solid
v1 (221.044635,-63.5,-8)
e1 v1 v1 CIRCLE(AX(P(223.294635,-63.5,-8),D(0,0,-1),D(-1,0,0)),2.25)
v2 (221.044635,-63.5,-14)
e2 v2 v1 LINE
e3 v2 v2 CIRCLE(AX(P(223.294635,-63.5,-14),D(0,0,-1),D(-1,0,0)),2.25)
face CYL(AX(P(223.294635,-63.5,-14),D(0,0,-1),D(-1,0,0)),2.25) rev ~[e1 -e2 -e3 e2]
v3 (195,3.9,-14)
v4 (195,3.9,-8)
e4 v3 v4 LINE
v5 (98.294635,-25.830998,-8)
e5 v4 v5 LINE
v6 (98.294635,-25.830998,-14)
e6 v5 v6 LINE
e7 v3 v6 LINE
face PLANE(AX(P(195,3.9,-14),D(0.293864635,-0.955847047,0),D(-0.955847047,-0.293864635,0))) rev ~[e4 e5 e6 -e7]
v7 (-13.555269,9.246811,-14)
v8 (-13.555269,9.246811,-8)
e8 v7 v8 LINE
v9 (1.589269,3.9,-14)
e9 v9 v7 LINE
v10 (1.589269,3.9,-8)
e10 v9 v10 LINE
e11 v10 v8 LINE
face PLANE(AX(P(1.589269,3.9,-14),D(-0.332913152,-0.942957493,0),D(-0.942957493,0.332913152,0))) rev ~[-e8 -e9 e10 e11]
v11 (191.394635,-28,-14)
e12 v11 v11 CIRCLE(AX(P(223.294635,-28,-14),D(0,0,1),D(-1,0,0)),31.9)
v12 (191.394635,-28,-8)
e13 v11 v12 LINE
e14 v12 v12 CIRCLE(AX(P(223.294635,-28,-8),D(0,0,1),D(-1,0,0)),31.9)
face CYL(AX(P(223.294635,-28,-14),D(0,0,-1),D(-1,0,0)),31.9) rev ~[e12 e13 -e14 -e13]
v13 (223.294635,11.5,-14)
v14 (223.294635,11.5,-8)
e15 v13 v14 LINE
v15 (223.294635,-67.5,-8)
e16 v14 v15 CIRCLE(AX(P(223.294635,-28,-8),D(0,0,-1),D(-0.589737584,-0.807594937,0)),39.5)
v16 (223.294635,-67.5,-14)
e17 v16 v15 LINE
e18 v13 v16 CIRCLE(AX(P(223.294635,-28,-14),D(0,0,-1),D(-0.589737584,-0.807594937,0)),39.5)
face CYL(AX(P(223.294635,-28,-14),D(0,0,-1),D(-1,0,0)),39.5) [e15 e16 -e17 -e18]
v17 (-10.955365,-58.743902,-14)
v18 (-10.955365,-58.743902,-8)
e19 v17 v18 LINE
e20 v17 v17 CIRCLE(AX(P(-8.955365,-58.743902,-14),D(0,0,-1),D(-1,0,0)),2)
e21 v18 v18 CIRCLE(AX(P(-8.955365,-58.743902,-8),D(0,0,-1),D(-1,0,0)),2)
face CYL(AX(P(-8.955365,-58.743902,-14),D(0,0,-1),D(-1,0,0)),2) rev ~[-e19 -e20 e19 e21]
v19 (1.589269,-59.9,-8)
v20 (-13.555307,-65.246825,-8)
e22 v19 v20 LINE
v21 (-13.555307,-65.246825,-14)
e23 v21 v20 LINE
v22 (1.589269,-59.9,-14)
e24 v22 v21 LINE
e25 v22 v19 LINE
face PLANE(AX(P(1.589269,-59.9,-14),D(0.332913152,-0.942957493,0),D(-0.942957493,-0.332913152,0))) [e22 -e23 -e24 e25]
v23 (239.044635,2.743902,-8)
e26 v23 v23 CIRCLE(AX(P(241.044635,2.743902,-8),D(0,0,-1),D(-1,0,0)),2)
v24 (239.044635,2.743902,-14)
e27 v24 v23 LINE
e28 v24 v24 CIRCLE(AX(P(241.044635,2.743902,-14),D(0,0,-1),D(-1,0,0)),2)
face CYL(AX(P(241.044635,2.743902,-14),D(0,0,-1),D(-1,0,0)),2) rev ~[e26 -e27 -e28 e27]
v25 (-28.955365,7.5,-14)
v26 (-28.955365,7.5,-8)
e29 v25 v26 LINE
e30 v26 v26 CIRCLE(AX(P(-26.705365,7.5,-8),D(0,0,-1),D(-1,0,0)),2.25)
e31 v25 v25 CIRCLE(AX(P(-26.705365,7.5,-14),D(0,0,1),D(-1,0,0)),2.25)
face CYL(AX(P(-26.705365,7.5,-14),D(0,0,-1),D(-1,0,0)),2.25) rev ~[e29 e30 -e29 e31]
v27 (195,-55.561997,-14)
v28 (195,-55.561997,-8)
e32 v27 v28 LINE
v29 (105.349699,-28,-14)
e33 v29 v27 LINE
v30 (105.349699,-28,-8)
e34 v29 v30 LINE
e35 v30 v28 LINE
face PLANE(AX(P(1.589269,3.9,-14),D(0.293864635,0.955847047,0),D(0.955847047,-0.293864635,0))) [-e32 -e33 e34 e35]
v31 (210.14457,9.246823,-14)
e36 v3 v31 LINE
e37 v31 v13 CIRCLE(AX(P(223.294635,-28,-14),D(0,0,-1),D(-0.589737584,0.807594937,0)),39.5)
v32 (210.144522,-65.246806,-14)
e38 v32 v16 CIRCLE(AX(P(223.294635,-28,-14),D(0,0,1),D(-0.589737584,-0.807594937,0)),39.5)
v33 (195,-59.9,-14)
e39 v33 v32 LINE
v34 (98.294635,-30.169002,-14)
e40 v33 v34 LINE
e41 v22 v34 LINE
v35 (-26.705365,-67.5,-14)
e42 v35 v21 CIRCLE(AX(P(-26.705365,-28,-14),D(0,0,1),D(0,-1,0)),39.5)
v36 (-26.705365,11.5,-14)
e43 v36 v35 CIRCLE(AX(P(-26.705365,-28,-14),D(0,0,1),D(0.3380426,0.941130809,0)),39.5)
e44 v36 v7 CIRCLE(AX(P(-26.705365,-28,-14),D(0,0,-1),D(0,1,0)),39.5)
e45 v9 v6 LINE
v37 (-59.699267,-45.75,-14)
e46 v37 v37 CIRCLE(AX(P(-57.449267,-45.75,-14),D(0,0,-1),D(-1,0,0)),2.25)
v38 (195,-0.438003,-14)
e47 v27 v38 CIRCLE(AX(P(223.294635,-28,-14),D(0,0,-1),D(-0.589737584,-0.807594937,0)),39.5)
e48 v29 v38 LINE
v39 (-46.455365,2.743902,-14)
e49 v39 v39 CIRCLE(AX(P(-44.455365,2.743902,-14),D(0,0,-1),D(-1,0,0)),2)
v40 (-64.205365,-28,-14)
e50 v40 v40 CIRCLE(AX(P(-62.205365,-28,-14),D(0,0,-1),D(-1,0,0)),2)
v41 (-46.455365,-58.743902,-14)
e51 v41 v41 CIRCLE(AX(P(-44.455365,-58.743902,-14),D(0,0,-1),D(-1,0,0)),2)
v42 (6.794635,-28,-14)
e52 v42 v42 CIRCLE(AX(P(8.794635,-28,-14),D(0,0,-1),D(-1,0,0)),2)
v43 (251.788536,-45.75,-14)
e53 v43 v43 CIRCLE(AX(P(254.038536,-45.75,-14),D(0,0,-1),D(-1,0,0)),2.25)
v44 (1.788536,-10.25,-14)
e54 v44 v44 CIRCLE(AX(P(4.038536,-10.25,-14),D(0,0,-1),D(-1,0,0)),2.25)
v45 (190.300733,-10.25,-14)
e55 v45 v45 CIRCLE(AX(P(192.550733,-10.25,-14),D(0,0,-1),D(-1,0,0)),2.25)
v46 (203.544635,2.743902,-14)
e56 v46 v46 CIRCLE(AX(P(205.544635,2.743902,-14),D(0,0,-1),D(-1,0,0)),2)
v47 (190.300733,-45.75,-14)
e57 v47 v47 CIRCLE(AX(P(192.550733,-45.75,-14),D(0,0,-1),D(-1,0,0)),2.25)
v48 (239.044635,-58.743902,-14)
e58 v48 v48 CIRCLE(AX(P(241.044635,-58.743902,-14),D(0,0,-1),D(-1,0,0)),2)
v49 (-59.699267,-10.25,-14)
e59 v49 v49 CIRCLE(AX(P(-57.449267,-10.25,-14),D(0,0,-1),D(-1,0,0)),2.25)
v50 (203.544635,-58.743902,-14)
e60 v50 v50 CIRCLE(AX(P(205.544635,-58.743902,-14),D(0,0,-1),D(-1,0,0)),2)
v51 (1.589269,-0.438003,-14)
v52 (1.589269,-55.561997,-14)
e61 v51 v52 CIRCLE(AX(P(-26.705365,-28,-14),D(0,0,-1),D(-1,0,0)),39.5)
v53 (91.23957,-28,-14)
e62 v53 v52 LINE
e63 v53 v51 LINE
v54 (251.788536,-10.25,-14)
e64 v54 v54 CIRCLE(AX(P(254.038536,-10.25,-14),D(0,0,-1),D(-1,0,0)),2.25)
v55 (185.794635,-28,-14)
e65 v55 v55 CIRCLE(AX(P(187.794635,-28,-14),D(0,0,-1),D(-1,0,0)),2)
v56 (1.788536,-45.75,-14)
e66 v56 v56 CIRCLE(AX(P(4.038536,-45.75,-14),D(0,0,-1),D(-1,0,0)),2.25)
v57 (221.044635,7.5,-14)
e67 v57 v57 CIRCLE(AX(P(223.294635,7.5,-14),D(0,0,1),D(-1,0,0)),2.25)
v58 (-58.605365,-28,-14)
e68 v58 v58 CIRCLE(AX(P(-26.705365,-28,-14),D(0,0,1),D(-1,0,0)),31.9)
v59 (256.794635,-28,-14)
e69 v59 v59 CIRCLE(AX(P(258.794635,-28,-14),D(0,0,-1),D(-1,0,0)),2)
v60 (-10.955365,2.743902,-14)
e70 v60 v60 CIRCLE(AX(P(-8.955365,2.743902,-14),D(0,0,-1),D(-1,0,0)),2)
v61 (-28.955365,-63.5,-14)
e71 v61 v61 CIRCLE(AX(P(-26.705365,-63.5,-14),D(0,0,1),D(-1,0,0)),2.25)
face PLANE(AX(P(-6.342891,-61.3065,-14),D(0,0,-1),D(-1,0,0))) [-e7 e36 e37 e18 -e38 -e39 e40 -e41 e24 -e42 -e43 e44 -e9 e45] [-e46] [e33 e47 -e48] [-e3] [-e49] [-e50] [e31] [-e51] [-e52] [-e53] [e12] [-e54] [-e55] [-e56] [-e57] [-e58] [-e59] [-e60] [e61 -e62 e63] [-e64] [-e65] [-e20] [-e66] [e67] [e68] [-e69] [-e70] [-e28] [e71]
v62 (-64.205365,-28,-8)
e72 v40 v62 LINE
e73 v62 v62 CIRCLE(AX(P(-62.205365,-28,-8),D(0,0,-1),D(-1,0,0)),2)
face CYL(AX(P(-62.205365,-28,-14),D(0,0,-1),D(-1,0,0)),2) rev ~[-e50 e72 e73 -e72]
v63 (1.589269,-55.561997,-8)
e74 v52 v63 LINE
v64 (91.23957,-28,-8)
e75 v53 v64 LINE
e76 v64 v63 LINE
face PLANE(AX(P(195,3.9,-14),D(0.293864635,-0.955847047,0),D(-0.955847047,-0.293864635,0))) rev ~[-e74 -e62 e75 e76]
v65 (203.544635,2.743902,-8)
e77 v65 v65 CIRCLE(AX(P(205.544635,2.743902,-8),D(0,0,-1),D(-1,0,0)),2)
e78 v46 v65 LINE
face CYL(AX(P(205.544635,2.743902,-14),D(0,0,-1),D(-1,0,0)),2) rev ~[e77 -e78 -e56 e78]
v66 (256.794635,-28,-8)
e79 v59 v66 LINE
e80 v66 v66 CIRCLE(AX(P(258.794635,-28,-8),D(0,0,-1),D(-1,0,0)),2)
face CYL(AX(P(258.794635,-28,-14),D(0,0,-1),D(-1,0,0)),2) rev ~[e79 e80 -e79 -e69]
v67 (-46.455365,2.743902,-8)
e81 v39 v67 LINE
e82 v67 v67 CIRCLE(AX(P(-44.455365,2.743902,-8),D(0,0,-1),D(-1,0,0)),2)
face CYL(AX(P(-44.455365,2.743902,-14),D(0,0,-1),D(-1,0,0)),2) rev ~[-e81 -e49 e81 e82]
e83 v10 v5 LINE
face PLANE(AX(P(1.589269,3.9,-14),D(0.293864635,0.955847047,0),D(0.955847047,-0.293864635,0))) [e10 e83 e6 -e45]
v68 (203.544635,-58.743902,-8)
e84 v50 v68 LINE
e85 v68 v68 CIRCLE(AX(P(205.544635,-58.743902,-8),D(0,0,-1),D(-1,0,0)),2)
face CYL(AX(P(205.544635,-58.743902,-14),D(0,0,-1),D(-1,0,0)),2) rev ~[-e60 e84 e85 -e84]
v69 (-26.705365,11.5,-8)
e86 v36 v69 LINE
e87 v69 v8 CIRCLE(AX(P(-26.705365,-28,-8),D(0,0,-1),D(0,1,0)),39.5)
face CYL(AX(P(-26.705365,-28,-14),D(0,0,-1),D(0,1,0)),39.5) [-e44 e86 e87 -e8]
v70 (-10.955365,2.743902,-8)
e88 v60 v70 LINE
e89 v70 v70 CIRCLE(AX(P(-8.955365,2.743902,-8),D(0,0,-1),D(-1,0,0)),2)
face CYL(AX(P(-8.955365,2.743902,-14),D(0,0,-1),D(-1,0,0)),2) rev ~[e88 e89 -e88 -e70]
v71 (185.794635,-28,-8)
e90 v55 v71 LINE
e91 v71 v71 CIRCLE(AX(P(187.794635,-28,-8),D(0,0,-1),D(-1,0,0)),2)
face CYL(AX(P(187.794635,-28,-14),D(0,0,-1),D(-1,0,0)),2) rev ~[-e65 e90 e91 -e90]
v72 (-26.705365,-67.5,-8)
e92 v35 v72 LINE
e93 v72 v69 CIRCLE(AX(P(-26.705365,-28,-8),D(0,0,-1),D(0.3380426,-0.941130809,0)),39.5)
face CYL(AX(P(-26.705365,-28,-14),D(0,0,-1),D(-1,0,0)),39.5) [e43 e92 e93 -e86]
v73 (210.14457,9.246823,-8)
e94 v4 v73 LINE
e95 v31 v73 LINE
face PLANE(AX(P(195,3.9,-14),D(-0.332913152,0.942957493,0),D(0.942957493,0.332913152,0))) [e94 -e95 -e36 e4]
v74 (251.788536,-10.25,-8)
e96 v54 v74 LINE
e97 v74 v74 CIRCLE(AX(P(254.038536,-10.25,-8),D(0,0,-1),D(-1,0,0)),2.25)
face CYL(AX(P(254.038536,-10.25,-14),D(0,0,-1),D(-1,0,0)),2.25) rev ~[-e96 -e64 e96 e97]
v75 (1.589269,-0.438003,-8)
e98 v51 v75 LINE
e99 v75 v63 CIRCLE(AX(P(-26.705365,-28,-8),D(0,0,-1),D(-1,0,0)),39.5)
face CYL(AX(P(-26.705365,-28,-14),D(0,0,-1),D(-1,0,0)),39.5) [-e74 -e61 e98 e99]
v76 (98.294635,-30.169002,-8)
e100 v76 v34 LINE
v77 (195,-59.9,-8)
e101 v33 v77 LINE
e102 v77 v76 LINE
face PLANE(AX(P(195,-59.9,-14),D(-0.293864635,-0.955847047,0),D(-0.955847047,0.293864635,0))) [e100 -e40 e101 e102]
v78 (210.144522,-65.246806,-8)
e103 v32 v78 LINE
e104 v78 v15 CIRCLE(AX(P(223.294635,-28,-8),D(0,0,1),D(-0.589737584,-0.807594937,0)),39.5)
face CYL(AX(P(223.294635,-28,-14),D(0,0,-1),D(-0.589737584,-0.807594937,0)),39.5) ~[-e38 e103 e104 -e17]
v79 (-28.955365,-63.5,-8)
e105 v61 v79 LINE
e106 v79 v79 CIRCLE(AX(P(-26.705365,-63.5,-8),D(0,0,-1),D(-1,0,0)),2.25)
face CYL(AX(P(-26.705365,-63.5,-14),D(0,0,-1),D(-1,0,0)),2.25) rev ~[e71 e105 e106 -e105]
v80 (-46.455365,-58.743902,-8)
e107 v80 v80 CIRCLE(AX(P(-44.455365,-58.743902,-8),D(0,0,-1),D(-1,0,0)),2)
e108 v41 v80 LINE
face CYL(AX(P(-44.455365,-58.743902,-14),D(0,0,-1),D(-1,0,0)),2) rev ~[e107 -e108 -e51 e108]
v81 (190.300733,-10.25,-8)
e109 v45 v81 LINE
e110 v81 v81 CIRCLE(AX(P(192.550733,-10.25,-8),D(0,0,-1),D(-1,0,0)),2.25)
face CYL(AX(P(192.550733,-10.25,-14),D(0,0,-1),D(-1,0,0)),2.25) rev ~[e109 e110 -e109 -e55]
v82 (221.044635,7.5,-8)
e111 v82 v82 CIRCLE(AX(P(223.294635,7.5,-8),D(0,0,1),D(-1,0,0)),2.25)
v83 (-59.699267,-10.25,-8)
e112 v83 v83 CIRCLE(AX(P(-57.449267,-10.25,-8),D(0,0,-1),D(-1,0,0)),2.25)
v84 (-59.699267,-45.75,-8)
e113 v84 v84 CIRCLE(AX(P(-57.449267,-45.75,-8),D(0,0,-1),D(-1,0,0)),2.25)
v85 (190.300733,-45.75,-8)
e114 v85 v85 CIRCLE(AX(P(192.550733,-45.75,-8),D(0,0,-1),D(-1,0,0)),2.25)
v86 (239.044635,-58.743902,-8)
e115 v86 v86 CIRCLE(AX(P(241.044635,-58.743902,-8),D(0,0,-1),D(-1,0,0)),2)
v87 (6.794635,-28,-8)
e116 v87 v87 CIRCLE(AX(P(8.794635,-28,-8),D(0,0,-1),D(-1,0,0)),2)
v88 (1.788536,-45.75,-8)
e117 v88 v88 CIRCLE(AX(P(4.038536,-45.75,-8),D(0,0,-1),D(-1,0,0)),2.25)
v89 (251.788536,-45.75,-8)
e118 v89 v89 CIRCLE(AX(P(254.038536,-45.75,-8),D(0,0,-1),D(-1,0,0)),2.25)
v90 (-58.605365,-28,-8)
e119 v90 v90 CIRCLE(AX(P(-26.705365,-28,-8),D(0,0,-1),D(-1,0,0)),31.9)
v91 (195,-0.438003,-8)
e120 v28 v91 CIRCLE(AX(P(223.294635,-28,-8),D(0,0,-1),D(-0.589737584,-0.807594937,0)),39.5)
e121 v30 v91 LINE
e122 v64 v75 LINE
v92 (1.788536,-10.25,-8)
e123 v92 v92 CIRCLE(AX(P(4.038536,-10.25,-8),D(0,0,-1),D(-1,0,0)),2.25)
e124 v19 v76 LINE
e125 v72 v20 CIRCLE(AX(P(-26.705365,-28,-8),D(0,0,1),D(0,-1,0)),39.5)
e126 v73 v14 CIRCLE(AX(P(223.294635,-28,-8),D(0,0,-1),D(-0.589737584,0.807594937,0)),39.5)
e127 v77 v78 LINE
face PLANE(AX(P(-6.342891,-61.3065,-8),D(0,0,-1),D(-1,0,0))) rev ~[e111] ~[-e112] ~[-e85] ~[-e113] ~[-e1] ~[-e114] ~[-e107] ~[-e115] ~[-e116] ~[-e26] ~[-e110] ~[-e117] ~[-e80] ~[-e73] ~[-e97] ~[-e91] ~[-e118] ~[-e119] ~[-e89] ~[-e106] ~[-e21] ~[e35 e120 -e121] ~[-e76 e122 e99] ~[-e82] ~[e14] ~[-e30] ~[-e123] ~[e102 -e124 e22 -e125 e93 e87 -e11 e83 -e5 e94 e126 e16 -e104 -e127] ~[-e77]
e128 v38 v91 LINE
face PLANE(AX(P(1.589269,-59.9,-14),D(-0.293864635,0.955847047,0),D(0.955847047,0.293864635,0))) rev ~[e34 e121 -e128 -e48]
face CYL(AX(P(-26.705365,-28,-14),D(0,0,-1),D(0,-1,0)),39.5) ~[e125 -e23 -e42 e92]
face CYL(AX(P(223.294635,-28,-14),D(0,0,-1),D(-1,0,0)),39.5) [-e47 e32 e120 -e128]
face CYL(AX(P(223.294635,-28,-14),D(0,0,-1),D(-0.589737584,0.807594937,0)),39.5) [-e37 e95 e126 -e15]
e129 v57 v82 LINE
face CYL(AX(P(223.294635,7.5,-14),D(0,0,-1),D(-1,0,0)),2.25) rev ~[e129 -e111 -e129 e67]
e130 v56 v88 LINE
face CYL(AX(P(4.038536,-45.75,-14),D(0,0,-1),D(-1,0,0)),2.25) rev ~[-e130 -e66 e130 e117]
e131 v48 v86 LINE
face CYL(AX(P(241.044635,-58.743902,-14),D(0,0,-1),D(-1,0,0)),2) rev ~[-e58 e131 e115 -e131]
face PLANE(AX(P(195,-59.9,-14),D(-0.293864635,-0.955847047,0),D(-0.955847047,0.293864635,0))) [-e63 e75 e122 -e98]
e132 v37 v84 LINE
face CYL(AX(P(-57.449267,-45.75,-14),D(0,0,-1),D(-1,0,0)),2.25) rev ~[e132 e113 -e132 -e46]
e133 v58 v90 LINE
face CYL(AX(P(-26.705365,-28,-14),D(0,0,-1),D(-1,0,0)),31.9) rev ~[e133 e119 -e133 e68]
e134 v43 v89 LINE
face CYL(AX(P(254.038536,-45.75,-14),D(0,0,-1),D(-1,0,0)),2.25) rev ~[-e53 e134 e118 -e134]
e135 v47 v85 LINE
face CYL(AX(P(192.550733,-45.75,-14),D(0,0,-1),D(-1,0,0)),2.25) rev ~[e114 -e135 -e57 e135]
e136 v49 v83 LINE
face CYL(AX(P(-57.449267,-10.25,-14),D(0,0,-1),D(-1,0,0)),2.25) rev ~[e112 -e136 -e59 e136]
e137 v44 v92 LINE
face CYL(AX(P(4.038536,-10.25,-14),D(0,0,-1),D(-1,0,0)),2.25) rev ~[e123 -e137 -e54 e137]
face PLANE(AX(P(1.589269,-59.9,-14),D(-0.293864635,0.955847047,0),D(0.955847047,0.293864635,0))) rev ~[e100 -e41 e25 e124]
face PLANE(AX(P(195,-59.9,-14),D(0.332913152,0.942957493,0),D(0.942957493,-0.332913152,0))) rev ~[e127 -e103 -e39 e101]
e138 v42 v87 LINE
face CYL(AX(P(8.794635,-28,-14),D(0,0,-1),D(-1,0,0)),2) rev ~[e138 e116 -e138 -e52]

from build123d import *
from build123d.topology import SkipClean

# Parameters (mm, degrees)
EXTRUDE_1_DEPTH      = 8
SKETCH_2_R           = 2.5
CUT_EXTRUDE_1_DEPTH  = 8
SKETCH_3_R           = 15
CUT_EXTRUDE_3_DEPTH  = 8
SKETCH_4_R           = 25
EXTRUDE_2_DEPTH      = 8
SKETCH_6_R           = 15
CUT_EXTRUDE_6_DEPTH  = 8
SKETCH_9_R           = 39.5
EXTRUDE_3_DEPTH      = 8
SKETCH_10_R          = 15
CUT_EXTRUDE_7_DEPTH  = 8
FILLET_3_R           = 5
FILLET_4_R           = 5
FILLET_5_R           = 5
FILLET_6_R           = 5
SKETCH_11_R          = 20
CUT_EXTRUDE_9_DEPTH  = 188
SKETCH_12_R          = 2.25
SKETCH_12_R_2        = 2
CUT_EXTRUDE_10_DEPTH = 9
SKETCH_13_R          = 54.472977105
CUT_EXTRUDE_11_DEPTH = 2
SKETCH_14_R          = 59.15893828
CUT_EXTRUDE_12_DEPTH = 2
SKETCH_15_R          = 97.544160789
CUT_EXTRUDE_13_DEPTH = 14
SKETCH_16_R          = 31.9
CUT_EXTRUDE_14_DEPTH = 10
SKETCH_17_W          = 2.25
SKETCH_17_H          = 4.5
EXTRUDE_4_DEPTH      = 6
SKETCH_18_W          = 6
SKETCH_18_H          = 4.5
EXTRUDE_5_DEPTH      = 200
EXTRUDE_6_DEPTH      = 6
SKETCH_21_W          = 200
SKETCH_21_H          = 1.35
EXTRUDE_7_DEPTH      = 6
SKETCH_22_R          = 39.5
EXTRUDE_8_DEPTH      = 6
SKETCH_23_R          = 31.9
CUT_EXTRUDE_15_DEPTH = 6
SKETCH_26_W          = 23.294634575
SKETCH_26_H          = 7.6
EXTRUDE_9_DEPTH      = 6
SKETCH_27_R          = 2.25
SKETCH_27_R_2        = 2
CUT_EXTRUDE_16_DEPTH = 6
EXTRUDE_10_DEPTH     = 6
SKETCH_29_W          = 6
SKETCH_29_H          = 4.5
EXTRUDE_11_DEPTH     = 227
EXTRUDE_12_DEPTH     = 6
SKETCH_31_W          = 192.451548969
SKETCH_31_H          = 1.35
EXTRUDE_13_DEPTH     = 6
SKETCH_32_R          = 2
CUT_EXTRUDE_17_DEPTH = 6
SKETCH_33_R          = 2.25
CUT_EXTRUDE_18_DEPTH = 6
SKETCH_34_R          = 2
CUT_EXTRUDE_19_DEPTH = 6
SKETCH_35_R          = 2.25
CUT_EXTRUDE_20_DEPTH = 6
SKETCH_36_R          = 2.25
SKETCH_36_R_2        = 2
CUT_EXTRUDE_21_DEPTH = 6
SKETCH_37_R          = 39.5
EXTRUDE_14_DEPTH     = 6
SKETCH_38_R          = 31.9
CUT_EXTRUDE_22_DEPTH = 6
CUT_EXTRUDE_23_DEPTH = 6
SKETCH_40_W          = 83.199504535
SKETCH_40_H          = 7.6
EXTRUDE_15_DEPTH     = 6
SKETCH_41_W          = 83.199504535
SKETCH_41_H          = 7.6
EXTRUDE_16_DEPTH     = 6
SKETCH_42_R          = 2.25
CUT_EXTRUDE_24_DEPTH = 6
SKETCH_43_R          = 2
CUT_EXTRUDE_25_DEPTH = 6
EXTRUDE_17_DEPTH     = 6
EXTRUDE_18_DEPTH     = 6
CUT_EXTRUDE_26_DEPTH = 10
EXTRUDE_19_DEPTH     = 6
EXTRUDE_20_DEPTH     = 6
CUT_EXTRUDE_27_DEPTH = 6
EXTRUDE_21_DEPTH     = 6
EXTRUDE_22_DEPTH     = 6
SKETCH_54_R          = 3.023115784
SKETCH_54_R_2        = 3.087531329
SKETCH_54_R_3        = 3.121625289
SKETCH_54_R_4        = 2.992792855
SKETCH_54_R_5        = 3.413004947
SKETCH_54_R_6        = 2.595639541
SKETCH_54_R_7        = 3.020521319
SKETCH_54_R_8        = 2.981815249
SKETCH_54_R_9        = 2.623531365
SKETCH_54_R_10       = 2.954994935
SKETCH_54_R_11       = 2.920794483
SKETCH_54_R_12       = 2.880999884
EXTRUDE_26_DEPTH     = 6
SKETCH_55_R          = 2
SKETCH_55_R_2        = 2.25
CUT_EXTRUDE_28_DEPTH = 6
SKETCH_56_R          = 3.133153075
EXTRUDE_27_DEPTH     = 6
SKETCH_57_R          = 2
CUT_EXTRUDE_29_DEPTH = 6
SKETCH_58_R          = 3.393702045
EXTRUDE_28_DEPTH     = 6
SKETCH_59_R          = 2
CUT_EXTRUDE_30_DEPTH = 6
SKETCH_60_R          = 3.196495832
SKETCH_60_R_2        = 3.185485356
SKETCH_60_R_3        = 2.893528448
SKETCH_60_R_4        = 3.123896019
SKETCH_60_R_5        = 3.190377665
SKETCH_60_R_6        = 2.876275995
SKETCH_60_R_7        = 2.985325865
SKETCH_60_R_8        = 3.165524537
SKETCH_60_R_9        = 2.969778692
SKETCH_60_R_10       = 2.730957457
SKETCH_60_R_11       = 2.74773434
SKETCH_60_R_12       = 2
EXTRUDE_29_DEPTH     = 6
SKETCH_61_R          = 3.146480317
SKETCH_61_R_2        = 3.03649503
EXTRUDE_30_DEPTH     = 6
SKETCH_62_R          = 2
SKETCH_62_R_2        = 2.25
CUT_EXTRUDE_31_DEPTH = 6


with BuildPart() as part:
    # 草图1 → 凸台-拉伸1 (new body)
    with BuildSketch(Plane.XY):
        Polygon((0, 0), (28, 0), (28, -56), (-28, -56), (-28, 0), align=None)
    extrude(amount=EXTRUDE_1_DEPTH)

    # 草图2 → 切除-拉伸1 (cut)
    with BuildSketch(Plane(origin=(0, 0, 0), x_dir=(-1, 0, 0), z_dir=(0, 0, -1))):
        with Locations((-23.55, -4.45)):
            Circle(SKETCH_2_R)
        with Locations((23.55, -4.45)):
            Circle(SKETCH_2_R)
        with Locations((23.55, -51.55)):
            Circle(SKETCH_2_R)
        with Locations((-23.55, -51.55)):
            Circle(SKETCH_2_R)
    extrude(amount=-CUT_EXTRUDE_1_DEPTH, mode=Mode.SUBTRACT)

    # 草图3 → 切除-拉伸3 (cut)
    with BuildSketch(Plane(origin=(0, 0, 0), x_dir=(-1, 0, 0), z_dir=(0, 0, -1))):
        with Locations((0, -28)):
            Circle(SKETCH_3_R)
    extrude(amount=-CUT_EXTRUDE_3_DEPTH, mode=Mode.SUBTRACT)

    # 草图4 → 凸台-拉伸2 (add)
    with BuildSketch(Plane(origin=(0, 0, 0), x_dir=(-1, 0, 0), z_dir=(0, 0, -1))):
        with Locations((0, -28)):
            Circle(SKETCH_4_R)
    extrude(amount=EXTRUDE_2_DEPTH)

    # 草图6 → 切除-拉伸6 (cut)
    with BuildSketch(Plane(origin=(0, 0, -8), x_dir=(-1, 0, 0), z_dir=(0, 0, -1))):
        with Locations((0, -28)):
            Circle(SKETCH_6_R)
    extrude(amount=-CUT_EXTRUDE_6_DEPTH, mode=Mode.SUBTRACT)

    # 草图9 → 凸台-拉伸3 (add)
    with BuildSketch(Plane(origin=(0, 0, -8), x_dir=(-1, 0, 0), z_dir=(0, 0, -1))):
        with Locations((0, -28)):
            Circle(SKETCH_9_R)
    extrude(amount=EXTRUDE_3_DEPTH)

    # 草图10 → 切除-拉伸7 (cut)
    with BuildSketch(Plane(origin=(0, 0, -16), x_dir=(-1, 0, 0), z_dir=(0, 0, -1))):
        with Locations((0, -28)):
            Circle(SKETCH_10_R)
    extrude(amount=-CUT_EXTRUDE_7_DEPTH, mode=Mode.SUBTRACT)

    # 圆角3
    fillet_3_edges = [part.edges().sort_by_distance(p)[0] for p in [
        (-28, 0, 4),
    ]]
    fillet(fillet_3_edges, radius=FILLET_3_R)

    # 圆角4
    fillet_4_edges = [part.edges().sort_by_distance(p)[0] for p in [
        (28, 0, 4),
    ]]
    fillet(fillet_4_edges, radius=FILLET_4_R)

    # 圆角5
    fillet_5_edges = [part.edges().sort_by_distance(p)[0] for p in [
        (28, -56, 4),
    ]]
    fillet(fillet_5_edges, radius=FILLET_5_R)

    # 圆角6
    fillet_6_edges = [part.edges().sort_by_distance(p)[0] for p in [
        (-28, -56, 4),
    ]]
    fillet(fillet_6_edges, radius=FILLET_6_R)

    # 草图11 → 切除-拉伸9 (cut)
    with BuildSketch(Plane(origin=(0, 0, -16), x_dir=(-1, 0, 0), z_dir=(0, 0, -1))):
        with Locations((0, -28)):
            Circle(SKETCH_11_R)
    extrude(amount=-CUT_EXTRUDE_9_DEPTH, mode=Mode.SUBTRACT)

    # 草图12 → 切除-拉伸10 (cut)
    with BuildSketch(Plane(origin=(0, 0, -16), x_dir=(-1, 0, 0), z_dir=(0, 0, -1))):
        with Locations((0, 7.5)):
            Circle(SKETCH_12_R)
        with Locations((25.102290732, -2.897709268)):
            Circle(SKETCH_12_R)
        with Locations((35.5, -28)):
            Circle(SKETCH_12_R)
        with Locations((25.102290732, -53.102290732)):
            Circle(SKETCH_12_R)
        with Locations((0, -63.5)):
            Circle(SKETCH_12_R)
        with Locations((-25.102290732, -53.102290732)):
            Circle(SKETCH_12_R)
        with Locations((-35.5, -28)):
            Circle(SKETCH_12_R)
        with Locations((-25.102290732, -2.897709268)):
            Circle(SKETCH_12_R)
        with Locations((13.585261849, 4.797723404)):
            Circle(SKETCH_12_R_2)
        with Locations((32.797723404, -14.414738151)):
            Circle(SKETCH_12_R_2)
        with Locations((32.797723404, -41.585261849)):
            Circle(SKETCH_12_R_2)
        with Locations((13.585261849, -60.797723404)):
            Circle(SKETCH_12_R_2)
        with Locations((-13.585261849, -60.797723404)):
            Circle(SKETCH_12_R_2)
        with Locations((-32.797723404, -41.585261849)):
            Circle(SKETCH_12_R_2)
        with Locations((-32.797723404, -14.414738151)):
            Circle(SKETCH_12_R_2)
        with Locations((-13.585261849, 4.797723404)):
            Circle(SKETCH_12_R_2)
    extrude(amount=-CUT_EXTRUDE_10_DEPTH, mode=Mode.SUBTRACT)

    # 草图13 → 切除-拉伸11 (cut)
    with BuildSketch(Plane.XY.offset(8)):
        with Locations((-7.517789751, -22.291540896)):
            Circle(SKETCH_13_R)
    extrude(amount=-CUT_EXTRUDE_11_DEPTH, mode=Mode.SUBTRACT)

    # 草图14 → 切除-拉伸12 (cut)
    with BuildSketch(Plane(origin=(0, 0, -16), x_dir=(-1, 0, 0), z_dir=(0, 0, -1))):
        with Locations((0.99418985, -28.021684804)):
            Circle(SKETCH_14_R)
    extrude(amount=-CUT_EXTRUDE_12_DEPTH, mode=Mode.SUBTRACT)

    # 草图15 → 切除-拉伸13 (cut)
    with BuildSketch(Plane.XY.offset(6)):
        with Locations((21.387337294, -13.128331417)):
            Circle(SKETCH_15_R)
    extrude(amount=-CUT_EXTRUDE_13_DEPTH, mode=Mode.SUBTRACT)

    # 草图16 → 切除-拉伸14 (cut)
    with BuildSketch(Plane(origin=(0, 0, -14), x_dir=(-1, 0, 0), z_dir=(0, 0, -1))):
        with Locations((0, -28)):
            Circle(SKETCH_16_R)
    extrude(amount=-CUT_EXTRUDE_14_DEPTH, mode=Mode.SUBTRACT)

    # 草图17 → 凸台-拉伸4 (add)
    with BuildSketch(Plane(origin=(0, 0, -14), x_dir=(-1, 0, 0), z_dir=(0, 0, -1))):
        with Locations((1.125, -63.5)):
            Rectangle(SKETCH_17_W, SKETCH_17_H)
    extrude(amount=-EXTRUDE_4_DEPTH)

    # 草图18 → 凸台-拉伸5 (add)
    with BuildSketch(Plane(origin=(0, 0, 0), x_dir=(0, 0, -1), z_dir=(1, 0, 0))):
        with Locations((11, -63.5)):
            Rectangle(SKETCH_18_W, SKETCH_18_H)
    extrude(amount=EXTRUDE_5_DEPTH)

    # 草图19 → 凸台-拉伸6 (add)
    with BuildSketch(Plane(origin=(0, 0, -14), x_dir=(-1, 0, 0), z_dir=(0, 0, -1))):
        Polygon((-200, -65.75), (-200, -67.5), (-11.62498376, -67.5), (0, -67.5), (0, -65.75), (-11.627015954, -65.75), align=None)
    extrude(amount=-EXTRUDE_6_DEPTH)

    # 草图21 → 凸台-拉伸7 (add)
    with BuildSketch(Plane(origin=(0, 0, -14), x_dir=(-1, 0, 0), z_dir=(0, 0, -1))):
        with Locations((-100, -60.575)):
            Rectangle(SKETCH_21_W, SKETCH_21_H)
    extrude(amount=-EXTRUDE_7_DEPTH)



with BuildPart() as body_2:
    # 草图22 → 凸台-拉伸8 (new body)
    with BuildSketch(Plane(origin=(0, 0, -14), x_dir=(-1, 0, 0), z_dir=(0, 0, -1))):
        with Locations((-223.294634575, -28)):
            Circle(SKETCH_22_R)
    extrude(amount=-EXTRUDE_8_DEPTH)

    # 草图23 → 切除-拉伸15 (cut)
    with BuildSketch(Plane(origin=(0, 0, -14), x_dir=(-1, 0, 0), z_dir=(0, 0, -1))):
        with Locations((-223.294634575, -28)):
            Circle(SKETCH_23_R)
    extrude(amount=-CUT_EXTRUDE_15_DEPTH, mode=Mode.SUBTRACT)


with BuildPart() as part_1:
    add(part.part)

    add(body_2.part)  # 凸台-拉伸9 merges body 2
    # 草图26 → 凸台-拉伸9 (add)
    with BuildSketch(Plane(origin=(0, 0, -14), x_dir=(-1, 0, 0), z_dir=(0, 0, -1))):
        with Locations((-211.647317288, -63.7)):
            Rectangle(SKETCH_26_W, SKETCH_26_H)
    extrude(amount=-EXTRUDE_9_DEPTH)

    # 草图27 → 切除-拉伸16 (cut)
    with BuildSketch(Plane(origin=(0, 0, -14), x_dir=(-1, 0, 0), z_dir=(0, 0, -1))):
        with Locations((-223.294634575, 7.5)):
            Circle(SKETCH_27_R)
        with Locations((-198.192343843, -2.897709268)):
            Circle(SKETCH_27_R)
        with Locations((-187.794634575, -28)):
            Circle(SKETCH_27_R)
        with Locations((-198.192343843, -53.102290732)):
            Circle(SKETCH_27_R)
        with Locations((-223.294634575, -63.5)):
            Circle(SKETCH_27_R)
        with Locations((-248.396925307, -53.102290732)):
            Circle(SKETCH_27_R)
        with Locations((-258.794634575, -28)):
            Circle(SKETCH_27_R)
        with Locations((-248.396925307, -2.897709268)):
            Circle(SKETCH_27_R)
        with Locations((-209.709372726, 4.797723404)):
            Circle(SKETCH_27_R_2)
        with Locations((-190.496911171, -14.414738151)):
            Circle(SKETCH_27_R_2)
        with Locations((-190.496911171, -41.585261849)):
            Circle(SKETCH_27_R_2)
        with Locations((-209.709372726, -60.797723404)):
            Circle(SKETCH_27_R_2)
        with Locations((-236.879896424, -60.797723404)):
            Circle(SKETCH_27_R_2)
        with Locations((-256.09235798, -41.585261849)):
            Circle(SKETCH_27_R_2)
        with Locations((-256.09235798, -14.414738151)):
            Circle(SKETCH_27_R_2)
        with Locations((-236.879896424, 4.797723404)):
            Circle(SKETCH_27_R_2)
    extrude(amount=-CUT_EXTRUDE_16_DEPTH, mode=Mode.SUBTRACT)

    # 草图28 → 凸台-拉伸10 (add)
    with BuildSketch(Plane(origin=(0, 0, -14), x_dir=(-1, 0, 0), z_dir=(0, 0, -1))):
        Polygon((-223.294634575, 5.25), (-223.294634575, 7.5), (-223.294634575, 9.75), (-221.044634575, 9.75), (-221.044634575, 5.25), align=None)
    extrude(amount=-EXTRUDE_10_DEPTH)

    # 草图29 → 凸台-拉伸11 (add)
    with BuildSketch(Plane(origin=(223.294634575, 0, 0), x_dir=(0, 0, -1), z_dir=(1, 0, 0))):
        with Locations((11, 7.5)):
            Rectangle(SKETCH_29_W, SKETCH_29_H)
    extrude(amount=-EXTRUDE_11_DEPTH)

    # 草图30 → 凸台-拉伸12 (add)
    with BuildSketch(Plane(origin=(0, 0, -14), x_dir=(-1, 0, 0), z_dir=(0, 0, -1))):
        Polygon((-11.627015954, 11.5), (0, 11.5), (0, 9.75), (-223.294634575, 9.75), (-223.294634575, 11.5), align=None)
    extrude(amount=-EXTRUDE_12_DEPTH)

    # 草图31 → 凸台-拉伸13 (add)
    with BuildSketch(Plane(origin=(0, 0, -14), x_dir=(-1, 0, 0), z_dir=(0, 0, -1))):
        with Locations((-105.745457454, 4.575)):
            Rectangle(SKETCH_31_W, SKETCH_31_H)
    extrude(amount=-EXTRUDE_13_DEPTH)

    # 草图32 → 切除-拉伸17 (cut)
    with BuildSketch(Plane(origin=(0, 0, -14), x_dir=(-1, 0, 0), z_dir=(0, 0, -1))):
        with Locations((-13.585261849, 4.797723404)):
            Circle(SKETCH_32_R)
    extrude(amount=-CUT_EXTRUDE_17_DEPTH, mode=Mode.SUBTRACT)

    # 草图33 → 切除-拉伸18 (cut)
    with BuildSketch(Plane(origin=(0, 0, -14), x_dir=(-1, 0, 0), z_dir=(0, 0, -1))):
        with Locations((0, 7.5)):
            Circle(SKETCH_33_R)
    extrude(amount=-CUT_EXTRUDE_18_DEPTH, mode=Mode.SUBTRACT)

    # 草图34 → 切除-拉伸19 (cut)
    with BuildSketch(Plane(origin=(0, 0, -14), x_dir=(-1, 0, 0), z_dir=(0, 0, -1))):
        with Locations((-13.585261849, -60.797723404)):
            Circle(SKETCH_34_R)
    extrude(amount=-CUT_EXTRUDE_19_DEPTH, mode=Mode.SUBTRACT)

    # 草图35 → 切除-拉伸20 (cut)
    with BuildSketch(Plane(origin=(0, 0, -14), x_dir=(-1, 0, 0), z_dir=(0, 0, -1))):
        with Locations((0, -63.5)):
            Circle(SKETCH_35_R)
    extrude(amount=-CUT_EXTRUDE_20_DEPTH, mode=Mode.SUBTRACT)

    # 草图36 → 切除-拉伸21 (cut)
    with BuildSketch(Plane(origin=(0, 0, -14), x_dir=(-1, 0, 0), z_dir=(0, 0, -1))):
        with Locations((-223.294634575, 7.5)):
            Circle(SKETCH_36_R)
        with Locations((-209.709372726, 4.797723404)):
            Circle(SKETCH_36_R_2)
    extrude(amount=-CUT_EXTRUDE_21_DEPTH, mode=Mode.SUBTRACT)

    # 草图37 → 凸台-拉伸14 (add)
    with BuildSketch(Plane(origin=(0, 0, -14), x_dir=(-1, 0, 0), z_dir=(0, 0, -1))):
        with Locations((26.705365425, -28)):
            Circle(SKETCH_37_R)
    extrude(amount=-EXTRUDE_14_DEPTH)

    # 草图38 → 切除-拉伸22 (cut)
    with BuildSketch(Plane(origin=(0, 0, -14), x_dir=(-1, 0, 0), z_dir=(0, 0, -1))):
        with Locations((26.705365425, -28)):
            Circle(SKETCH_38_R)
    extrude(amount=-CUT_EXTRUDE_22_DEPTH, mode=Mode.SUBTRACT)

    # 草图39 → 切除-拉伸23 (cut)
    with BuildSketch(Plane(origin=(0, 0, -14), x_dir=(-1, 0, 0), z_dir=(0, 0, -1))):
        with BuildLine():
            Line((13.352682712, 9.174666971), (-4.992405211, 19.110142944))
            Line((-4.992405211, 19.110142944), (-56.49413911, 19.110142944))
            Line((-56.49413911, 19.110142944), (-56.49413911, -75.983825288))
            Line((-56.49413911, -75.983825288), (13.352682712, -75.983825288))
            Line((13.352682712, -75.983825288), (13.352682712, -65.174666971))
            ThreePointArc((13.352682712, -65.174666971), (-12.794634575, -28), (13.352682712, 9.174666971))
        make_face()
    extrude(amount=-CUT_EXTRUDE_23_DEPTH, mode=Mode.SUBTRACT)


with BuildPart() as cut_extrude_23_piece_1:
    # of the separate pieces the step leaves, piece 1, a body of its own (cut_extrude_23_pieces)
    add(part_1.part.solids().sort_by_distance((56.49413911, -59.9, -8))[0])



with BuildPart() as cut_extrude_23_piece_2:
    # of the separate pieces the step leaves, piece 2, a body of its own (cut_extrude_23_pieces)
    add(part_1.part.solids().sort_by_distance((-13.352682712, 9.174666971, -8))[0])


with BuildPart() as cut_extrude_23_piece_1_1:
    with SkipClean():  # the faces are left unmerged after this step: merging them gives an invalid solid
        add(cut_extrude_23_piece_1.part)

        add(cut_extrude_23_piece_2.part)  # 凸台-拉伸15 merges 切除-拉伸23 piece 2
        # 草图40 → 凸台-拉伸15 (add)
        with BuildSketch(Plane(origin=(0, 0, -14), x_dir=(-1, 0, 0), z_dir=(0, 0, -1))):
            with Locations((-14.894386843, 7.7)):
                Rectangle(SKETCH_40_W, SKETCH_40_H)
        extrude(amount=-EXTRUDE_15_DEPTH)

    # 草图41 → 凸台-拉伸16 (add)
    with SkipClean():  # the faces are left unmerged after this step: merging them gives an invalid solid
        with BuildSketch(Plane(origin=(0, 0, -14), x_dir=(-1, 0, 0), z_dir=(0, 0, -1))):
            with Locations((-14.894386843, -63.7)):
                Rectangle(SKETCH_41_W, SKETCH_41_H)
        extrude(amount=-EXTRUDE_16_DEPTH)

    # 草图42 → 切除-拉伸24 (cut)
    with SkipClean():  # the faces are left unmerged after this step: merging them gives an invalid solid
        with BuildSketch(Plane(origin=(0, 0, -14), x_dir=(-1, 0, 0), z_dir=(0, 0, -1))):
            with Locations((26.705365425, -63.5)):
                Circle(SKETCH_42_R)
            with Locations((1.603074693, -53.102290732)):
                Circle(SKETCH_42_R)
            with Locations((-8.794634575, -28)):
                Circle(SKETCH_42_R)
            with Locations((1.603074693, -2.897709268)):
                Circle(SKETCH_42_R)
            with Locations((26.705365425, 7.5)):
                Circle(SKETCH_42_R)
            with Locations((51.807656157, -2.897709268)):
                Circle(SKETCH_42_R)
            with Locations((62.205365425, -28)):
                Circle(SKETCH_42_R)
            with Locations((51.807656157, -53.102290732)):
                Circle(SKETCH_42_R)
        extrude(amount=-CUT_EXTRUDE_24_DEPTH, mode=Mode.SUBTRACT)

    # 草图43 → 切除-拉伸25 (cut)
    with SkipClean():  # the faces are left unmerged after this step: merging them gives an invalid solid
        with BuildSketch(Plane(origin=(0, 0, -14), x_dir=(-1, 0, 0), z_dir=(0, 0, -1))):
            with Locations((13.120103576, -60.797723404)):
                Circle(SKETCH_43_R)
            with Locations((-6.09235798, -41.585261849)):
                Circle(SKETCH_43_R)
            with Locations((-6.09235798, -14.414738151)):
                Circle(SKETCH_43_R)
            with Locations((13.120103576, 4.797723404)):
                Circle(SKETCH_43_R)
            with Locations((40.290627274, 4.797723404)):
                Circle(SKETCH_43_R)
            with Locations((59.503088829, -14.414738151)):
                Circle(SKETCH_43_R)
            with Locations((59.503088829, -41.585261849)):
                Circle(SKETCH_43_R)
            with Locations((40.290627274, -60.797723404)):
                Circle(SKETCH_43_R)
        extrude(amount=-CUT_EXTRUDE_25_DEPTH, mode=Mode.SUBTRACT)

    # 草图45 → 凸台-拉伸17 (add)
    with SkipClean():  # the faces are left unmerged after this step: merging them gives an invalid solid
        with BuildSketch(Plane(origin=(0, 0, -14), x_dir=(-1, 0, 0), z_dir=(0, 0, -1))):
            Polygon((3.410730849, 3.9), (-1.589269151, 3.9), (-195, -55.561996558), (-196.053089168, -55.561996558), (-200, -59.9), (-195, -59.9), (-1.589269151, -0.438003442), (-0.326462053, -0.207504924), align=None)
        extrude(amount=-EXTRUDE_17_DEPTH)

    # 草图46 → 凸台-拉伸18 (add)
    with BuildSketch(Plane(origin=(0, 0, -14), x_dir=(-1, 0, 0), z_dir=(0, 0, -1))):
        Polygon((3.410730849, -59.9), (-1.589269151, -59.9), (-195, -0.438003442), (-198.220472374, 0.638318988), (-200, 3.9), (-195, 3.9), (-1.589269151, -55.561996558), (3.410730849, -56.654151934), align=None)
    extrude(amount=-EXTRUDE_18_DEPTH)

    # 草图48 → 切除-拉伸26 (cut)
    with BuildSketch(Plane(origin=(0, 0, -14), x_dir=(-1, 0, 0), z_dir=(0, 0, -1))):
        with BuildLine():
            Line((-195, 3.9), (-200, 3.9))
            ThreePointArc((-200, 3.9), (-211.043104059, 9.551963997), (-223.294634575, 11.5))
            Line((-223.294634575, 11.5), (26.705365425, 11.5))
            ThreePointArc((26.705365425, 11.5), (14.453834908, 9.551963997), (3.410730849, 3.9))
            Line((3.410730849, 3.9), (-195, 3.9))
        make_face()
    extrude(amount=-CUT_EXTRUDE_26_DEPTH, mode=Mode.SUBTRACT)

    # 草图49 → 凸台-拉伸19 (add)
    with BuildSketch(Plane(origin=(0, 0, -14), x_dir=(-1, 0, 0), z_dir=(0, 0, -1))):
        Polygon((-195, 3.9), (-210.144570146, 9.246822757), (-203.428919575, 3.9), (-195.687194707, 2.184984953), align=None)
    extrude(amount=-EXTRUDE_19_DEPTH)

    # 草图50 → 凸台-拉伸20 (add)
    with BuildSketch(Plane(origin=(0, 0, -14), x_dir=(-1, 0, 0), z_dir=(0, 0, -1))):
        Polygon((-1.589269151, 3.9), (13.555268797, 9.246811389), (12.484470378, 7.007301608), (5.165672919, 2.143463843), align=None)
    extrude(amount=-EXTRUDE_20_DEPTH)

    # 草图51 → 切除-拉伸27 (cut)
    with BuildSketch(Plane(origin=(0, 0, -14), x_dir=(-1, 0, 0), z_dir=(0, 0, -1))):
        with BuildLine():
            Line((-195, -59.9), (-200, -59.9))
            ThreePointArc((-200, -59.9), (-211.043104059, -65.551963997), (-223.294634575, -67.5))
            Line((-223.294634575, -67.5), (26.705365425, -67.5))
            ThreePointArc((26.705365425, -67.5), (14.453834908, -65.551963997), (3.410730849, -59.9))
            Line((3.410730849, -59.9), (-195, -59.9))
        make_face()
    extrude(amount=-CUT_EXTRUDE_27_DEPTH, mode=Mode.SUBTRACT)

    # 草图52 → 凸台-拉伸21 (add)
    with BuildSketch(Plane(origin=(0, 0, -14), x_dir=(-1, 0, 0), z_dir=(0, 0, -1))):
        Polygon((-195, -59.9), (-210.144521964, -65.246805746), (-210.144521964, -63.833151631), (-204.448758461, -59.9), (-198.056465546, -58.898278458), align=None)
    extrude(amount=-EXTRUDE_21_DEPTH)

    # 草图53 → 凸台-拉伸22 (add)
    with BuildSketch(Plane(origin=(0, 0, -14), x_dir=(-1, 0, 0), z_dir=(0, 0, -1))):
        Polygon((-1.589269151, -59.9), (13.555306721, -65.246824779), (13.952087813, -64.122964992), (8.19702609, -60.976256257), (3.998941814, -56.874336201), align=None)
    extrude(amount=-EXTRUDE_22_DEPTH)

    # 草图54 → 凸台-拉伸26 (add)
    with BuildSketch(Plane(origin=(0, 0, -14), x_dir=(-1, 0, 0), z_dir=(0, 0, -1))):
        with Locations((-209.676875906, 5.562719426)):
            Circle(SKETCH_54_R)
        with Locations((-198.192343843, -2.897709268)):
            Circle(SKETCH_54_R_2)
        with Locations((-190.167602493, -13.95776797)):
            Circle(SKETCH_54_R_3)
        with Locations((-190.496911171, -41.585261849)):
            Circle(SKETCH_54_R_4)
        with Locations((-198.192343843, -53.102290732)):
            Circle(SKETCH_54_R_5)
        with Locations((-209.709372726, -60.614928584)):
            Circle(SKETCH_54_R_6)
        with Locations((-236.879896424, -60.797723404)):
            Circle(SKETCH_54_R_7)
        with Locations((-248.396925307, -53.102290732)):
            Circle(SKETCH_54_R_8)
        with Locations((-256.09235798, -41.585261849)):
            Circle(SKETCH_54_R_9)
        with Locations((-256.09235798, -14.414738151)):
            Circle(SKETCH_54_R_10)
        with Locations((-248.396925307, -2.897709268)):
            Circle(SKETCH_54_R_11)
        with Locations((-236.879896424, 4.797723404)):
            Circle(SKETCH_54_R_12)
    extrude(amount=-EXTRUDE_26_DEPTH)

    # 草图55 → 切除-拉伸28 (cut)
    with BuildSketch(Plane(origin=(0, 0, -14), x_dir=(-1, 0, 0), z_dir=(0, 0, -1))):
        with Locations((-205.544634575, 2.743901834)):
            Circle(SKETCH_55_R)
        with Locations((-192.550732741, -10.25)):
            Circle(SKETCH_55_R_2)
        with Locations((-192.550732741, -45.75)):
            Circle(SKETCH_55_R_2)
        with Locations((-205.544634575, -58.743901834)):
            Circle(SKETCH_55_R)
        with Locations((-241.044634575, -58.743901834)):
            Circle(SKETCH_55_R)
        with Locations((-254.03853641, -45.75)):
            Circle(SKETCH_55_R_2)
        with Locations((-254.03853641, -10.25)):
            Circle(SKETCH_55_R_2)
        with Locations((-241.044634575, 2.743901834)):
            Circle(SKETCH_55_R)
    extrude(amount=-CUT_EXTRUDE_28_DEPTH, mode=Mode.SUBTRACT)

    # 草图56 → 凸台-拉伸27 (add)
    with BuildSketch(Plane(origin=(0, 0, -14), x_dir=(-1, 0, 0), z_dir=(0, 0, -1))):
        with Locations((-187.88108434, -28.12111643)):
            Circle(SKETCH_56_R)
    extrude(amount=-EXTRUDE_27_DEPTH)

    # 草图57 → 切除-拉伸29 (cut)
    with BuildSketch(Plane(origin=(0, 0, -14), x_dir=(-1, 0, 0), z_dir=(0, 0, -1))):
        with Locations((-187.794634575, -28)):
            Circle(SKETCH_57_R)
    extrude(amount=-CUT_EXTRUDE_29_DEPTH, mode=Mode.SUBTRACT)

    # 草图58 → 凸台-拉伸28 (add)
    with BuildSketch(Plane(origin=(0, 0, -14), x_dir=(-1, 0, 0), z_dir=(0, 0, -1))):
        with Locations((-258.794634575, -28)):
            Circle(SKETCH_58_R)
    extrude(amount=-EXTRUDE_28_DEPTH)

    # 草图59 → 切除-拉伸30 (cut)
    with BuildSketch(Plane(origin=(0, 0, -14), x_dir=(-1, 0, 0), z_dir=(0, 0, -1))):
        with Locations((-258.794634575, -28)):
            Circle(SKETCH_59_R)
    extrude(amount=-CUT_EXTRUDE_30_DEPTH, mode=Mode.SUBTRACT)

    # 草图60 → 凸台-拉伸29 (add)
    with BuildSketch(Plane(origin=(0, 0, -14), x_dir=(-1, 0, 0), z_dir=(0, 0, -1))):
        with Locations((40.330376882, 4.930819427)):
            Circle(SKETCH_60_R)
        with Locations((51.807656157, -2.897709268)):
            Circle(SKETCH_60_R_2)
        with Locations((59.503088829, -14.414738151)):
            Circle(SKETCH_60_R_3)
        with Locations((59.503088829, -41.585261849)):
            Circle(SKETCH_60_R_4)
        with Locations((51.807656157, -53.102290732)):
            Circle(SKETCH_60_R_5)
        with Locations((40.290627274, -60.797723404)):
            Circle(SKETCH_60_R_6)
        with Locations((13.120103576, -60.797723404)):
            Circle(SKETCH_60_R_7)
        with Locations((1.603074693, -53.102290732)):
            Circle(SKETCH_60_R_8)
        with Locations((-6.09235798, -41.585261849)):
            Circle(SKETCH_60_R_9)
        with Locations((-6.09235798, -14.414738151)):
            Circle(SKETCH_60_R_10)
        with Locations((1.603074693, -2.897709268)):
            Circle(SKETCH_60_R_11)
        with Locations((13.120103576, 4.797723404)):
            Circle(SKETCH_60_R_12)
    extrude(amount=-EXTRUDE_29_DEPTH)

    # 草图61 → 凸台-拉伸30 (add)
    with BuildSketch(Plane(origin=(0, 0, -14), x_dir=(-1, 0, 0), z_dir=(0, 0, -1))):
        with Locations((62.205365425, -28)):
            Circle(SKETCH_61_R)
        with Locations((-8.794634575, -28)):
            Circle(SKETCH_61_R_2)
    extrude(amount=-EXTRUDE_30_DEPTH)

    # 草图62 → 切除-拉伸31 (cut)
    with BuildSketch(Plane(origin=(0, 0, -14), x_dir=(-1, 0, 0), z_dir=(0, 0, -1))):
        with Locations((44.455365425, 2.743901834)):
            Circle(SKETCH_62_R)
        with Locations((62.205365425, -28)):
            Circle(SKETCH_62_R)
        with Locations((44.455365425, -58.743901834)):
            Circle(SKETCH_62_R)
        with Locations((8.955365425, -58.743901834)):
            Circle(SKETCH_62_R)
        with Locations((-8.794634575, -28)):
            Circle(SKETCH_62_R)
        with Locations((8.955365425, 2.743901834)):
            Circle(SKETCH_62_R)
        with Locations((57.449267259, -10.25)):
            Circle(SKETCH_62_R_2)
        with Locations((57.449267259, -45.75)):
            Circle(SKETCH_62_R_2)
        with Locations((-4.03853641, -45.75)):
            Circle(SKETCH_62_R_2)
        with Locations((-4.03853641, -10.25)):
            Circle(SKETCH_62_R_2)
    extrude(amount=-CUT_EXTRUDE_31_DEPTH, mode=Mode.SUBTRACT)


solid = cut_extrude_23_piece_1_1.part
